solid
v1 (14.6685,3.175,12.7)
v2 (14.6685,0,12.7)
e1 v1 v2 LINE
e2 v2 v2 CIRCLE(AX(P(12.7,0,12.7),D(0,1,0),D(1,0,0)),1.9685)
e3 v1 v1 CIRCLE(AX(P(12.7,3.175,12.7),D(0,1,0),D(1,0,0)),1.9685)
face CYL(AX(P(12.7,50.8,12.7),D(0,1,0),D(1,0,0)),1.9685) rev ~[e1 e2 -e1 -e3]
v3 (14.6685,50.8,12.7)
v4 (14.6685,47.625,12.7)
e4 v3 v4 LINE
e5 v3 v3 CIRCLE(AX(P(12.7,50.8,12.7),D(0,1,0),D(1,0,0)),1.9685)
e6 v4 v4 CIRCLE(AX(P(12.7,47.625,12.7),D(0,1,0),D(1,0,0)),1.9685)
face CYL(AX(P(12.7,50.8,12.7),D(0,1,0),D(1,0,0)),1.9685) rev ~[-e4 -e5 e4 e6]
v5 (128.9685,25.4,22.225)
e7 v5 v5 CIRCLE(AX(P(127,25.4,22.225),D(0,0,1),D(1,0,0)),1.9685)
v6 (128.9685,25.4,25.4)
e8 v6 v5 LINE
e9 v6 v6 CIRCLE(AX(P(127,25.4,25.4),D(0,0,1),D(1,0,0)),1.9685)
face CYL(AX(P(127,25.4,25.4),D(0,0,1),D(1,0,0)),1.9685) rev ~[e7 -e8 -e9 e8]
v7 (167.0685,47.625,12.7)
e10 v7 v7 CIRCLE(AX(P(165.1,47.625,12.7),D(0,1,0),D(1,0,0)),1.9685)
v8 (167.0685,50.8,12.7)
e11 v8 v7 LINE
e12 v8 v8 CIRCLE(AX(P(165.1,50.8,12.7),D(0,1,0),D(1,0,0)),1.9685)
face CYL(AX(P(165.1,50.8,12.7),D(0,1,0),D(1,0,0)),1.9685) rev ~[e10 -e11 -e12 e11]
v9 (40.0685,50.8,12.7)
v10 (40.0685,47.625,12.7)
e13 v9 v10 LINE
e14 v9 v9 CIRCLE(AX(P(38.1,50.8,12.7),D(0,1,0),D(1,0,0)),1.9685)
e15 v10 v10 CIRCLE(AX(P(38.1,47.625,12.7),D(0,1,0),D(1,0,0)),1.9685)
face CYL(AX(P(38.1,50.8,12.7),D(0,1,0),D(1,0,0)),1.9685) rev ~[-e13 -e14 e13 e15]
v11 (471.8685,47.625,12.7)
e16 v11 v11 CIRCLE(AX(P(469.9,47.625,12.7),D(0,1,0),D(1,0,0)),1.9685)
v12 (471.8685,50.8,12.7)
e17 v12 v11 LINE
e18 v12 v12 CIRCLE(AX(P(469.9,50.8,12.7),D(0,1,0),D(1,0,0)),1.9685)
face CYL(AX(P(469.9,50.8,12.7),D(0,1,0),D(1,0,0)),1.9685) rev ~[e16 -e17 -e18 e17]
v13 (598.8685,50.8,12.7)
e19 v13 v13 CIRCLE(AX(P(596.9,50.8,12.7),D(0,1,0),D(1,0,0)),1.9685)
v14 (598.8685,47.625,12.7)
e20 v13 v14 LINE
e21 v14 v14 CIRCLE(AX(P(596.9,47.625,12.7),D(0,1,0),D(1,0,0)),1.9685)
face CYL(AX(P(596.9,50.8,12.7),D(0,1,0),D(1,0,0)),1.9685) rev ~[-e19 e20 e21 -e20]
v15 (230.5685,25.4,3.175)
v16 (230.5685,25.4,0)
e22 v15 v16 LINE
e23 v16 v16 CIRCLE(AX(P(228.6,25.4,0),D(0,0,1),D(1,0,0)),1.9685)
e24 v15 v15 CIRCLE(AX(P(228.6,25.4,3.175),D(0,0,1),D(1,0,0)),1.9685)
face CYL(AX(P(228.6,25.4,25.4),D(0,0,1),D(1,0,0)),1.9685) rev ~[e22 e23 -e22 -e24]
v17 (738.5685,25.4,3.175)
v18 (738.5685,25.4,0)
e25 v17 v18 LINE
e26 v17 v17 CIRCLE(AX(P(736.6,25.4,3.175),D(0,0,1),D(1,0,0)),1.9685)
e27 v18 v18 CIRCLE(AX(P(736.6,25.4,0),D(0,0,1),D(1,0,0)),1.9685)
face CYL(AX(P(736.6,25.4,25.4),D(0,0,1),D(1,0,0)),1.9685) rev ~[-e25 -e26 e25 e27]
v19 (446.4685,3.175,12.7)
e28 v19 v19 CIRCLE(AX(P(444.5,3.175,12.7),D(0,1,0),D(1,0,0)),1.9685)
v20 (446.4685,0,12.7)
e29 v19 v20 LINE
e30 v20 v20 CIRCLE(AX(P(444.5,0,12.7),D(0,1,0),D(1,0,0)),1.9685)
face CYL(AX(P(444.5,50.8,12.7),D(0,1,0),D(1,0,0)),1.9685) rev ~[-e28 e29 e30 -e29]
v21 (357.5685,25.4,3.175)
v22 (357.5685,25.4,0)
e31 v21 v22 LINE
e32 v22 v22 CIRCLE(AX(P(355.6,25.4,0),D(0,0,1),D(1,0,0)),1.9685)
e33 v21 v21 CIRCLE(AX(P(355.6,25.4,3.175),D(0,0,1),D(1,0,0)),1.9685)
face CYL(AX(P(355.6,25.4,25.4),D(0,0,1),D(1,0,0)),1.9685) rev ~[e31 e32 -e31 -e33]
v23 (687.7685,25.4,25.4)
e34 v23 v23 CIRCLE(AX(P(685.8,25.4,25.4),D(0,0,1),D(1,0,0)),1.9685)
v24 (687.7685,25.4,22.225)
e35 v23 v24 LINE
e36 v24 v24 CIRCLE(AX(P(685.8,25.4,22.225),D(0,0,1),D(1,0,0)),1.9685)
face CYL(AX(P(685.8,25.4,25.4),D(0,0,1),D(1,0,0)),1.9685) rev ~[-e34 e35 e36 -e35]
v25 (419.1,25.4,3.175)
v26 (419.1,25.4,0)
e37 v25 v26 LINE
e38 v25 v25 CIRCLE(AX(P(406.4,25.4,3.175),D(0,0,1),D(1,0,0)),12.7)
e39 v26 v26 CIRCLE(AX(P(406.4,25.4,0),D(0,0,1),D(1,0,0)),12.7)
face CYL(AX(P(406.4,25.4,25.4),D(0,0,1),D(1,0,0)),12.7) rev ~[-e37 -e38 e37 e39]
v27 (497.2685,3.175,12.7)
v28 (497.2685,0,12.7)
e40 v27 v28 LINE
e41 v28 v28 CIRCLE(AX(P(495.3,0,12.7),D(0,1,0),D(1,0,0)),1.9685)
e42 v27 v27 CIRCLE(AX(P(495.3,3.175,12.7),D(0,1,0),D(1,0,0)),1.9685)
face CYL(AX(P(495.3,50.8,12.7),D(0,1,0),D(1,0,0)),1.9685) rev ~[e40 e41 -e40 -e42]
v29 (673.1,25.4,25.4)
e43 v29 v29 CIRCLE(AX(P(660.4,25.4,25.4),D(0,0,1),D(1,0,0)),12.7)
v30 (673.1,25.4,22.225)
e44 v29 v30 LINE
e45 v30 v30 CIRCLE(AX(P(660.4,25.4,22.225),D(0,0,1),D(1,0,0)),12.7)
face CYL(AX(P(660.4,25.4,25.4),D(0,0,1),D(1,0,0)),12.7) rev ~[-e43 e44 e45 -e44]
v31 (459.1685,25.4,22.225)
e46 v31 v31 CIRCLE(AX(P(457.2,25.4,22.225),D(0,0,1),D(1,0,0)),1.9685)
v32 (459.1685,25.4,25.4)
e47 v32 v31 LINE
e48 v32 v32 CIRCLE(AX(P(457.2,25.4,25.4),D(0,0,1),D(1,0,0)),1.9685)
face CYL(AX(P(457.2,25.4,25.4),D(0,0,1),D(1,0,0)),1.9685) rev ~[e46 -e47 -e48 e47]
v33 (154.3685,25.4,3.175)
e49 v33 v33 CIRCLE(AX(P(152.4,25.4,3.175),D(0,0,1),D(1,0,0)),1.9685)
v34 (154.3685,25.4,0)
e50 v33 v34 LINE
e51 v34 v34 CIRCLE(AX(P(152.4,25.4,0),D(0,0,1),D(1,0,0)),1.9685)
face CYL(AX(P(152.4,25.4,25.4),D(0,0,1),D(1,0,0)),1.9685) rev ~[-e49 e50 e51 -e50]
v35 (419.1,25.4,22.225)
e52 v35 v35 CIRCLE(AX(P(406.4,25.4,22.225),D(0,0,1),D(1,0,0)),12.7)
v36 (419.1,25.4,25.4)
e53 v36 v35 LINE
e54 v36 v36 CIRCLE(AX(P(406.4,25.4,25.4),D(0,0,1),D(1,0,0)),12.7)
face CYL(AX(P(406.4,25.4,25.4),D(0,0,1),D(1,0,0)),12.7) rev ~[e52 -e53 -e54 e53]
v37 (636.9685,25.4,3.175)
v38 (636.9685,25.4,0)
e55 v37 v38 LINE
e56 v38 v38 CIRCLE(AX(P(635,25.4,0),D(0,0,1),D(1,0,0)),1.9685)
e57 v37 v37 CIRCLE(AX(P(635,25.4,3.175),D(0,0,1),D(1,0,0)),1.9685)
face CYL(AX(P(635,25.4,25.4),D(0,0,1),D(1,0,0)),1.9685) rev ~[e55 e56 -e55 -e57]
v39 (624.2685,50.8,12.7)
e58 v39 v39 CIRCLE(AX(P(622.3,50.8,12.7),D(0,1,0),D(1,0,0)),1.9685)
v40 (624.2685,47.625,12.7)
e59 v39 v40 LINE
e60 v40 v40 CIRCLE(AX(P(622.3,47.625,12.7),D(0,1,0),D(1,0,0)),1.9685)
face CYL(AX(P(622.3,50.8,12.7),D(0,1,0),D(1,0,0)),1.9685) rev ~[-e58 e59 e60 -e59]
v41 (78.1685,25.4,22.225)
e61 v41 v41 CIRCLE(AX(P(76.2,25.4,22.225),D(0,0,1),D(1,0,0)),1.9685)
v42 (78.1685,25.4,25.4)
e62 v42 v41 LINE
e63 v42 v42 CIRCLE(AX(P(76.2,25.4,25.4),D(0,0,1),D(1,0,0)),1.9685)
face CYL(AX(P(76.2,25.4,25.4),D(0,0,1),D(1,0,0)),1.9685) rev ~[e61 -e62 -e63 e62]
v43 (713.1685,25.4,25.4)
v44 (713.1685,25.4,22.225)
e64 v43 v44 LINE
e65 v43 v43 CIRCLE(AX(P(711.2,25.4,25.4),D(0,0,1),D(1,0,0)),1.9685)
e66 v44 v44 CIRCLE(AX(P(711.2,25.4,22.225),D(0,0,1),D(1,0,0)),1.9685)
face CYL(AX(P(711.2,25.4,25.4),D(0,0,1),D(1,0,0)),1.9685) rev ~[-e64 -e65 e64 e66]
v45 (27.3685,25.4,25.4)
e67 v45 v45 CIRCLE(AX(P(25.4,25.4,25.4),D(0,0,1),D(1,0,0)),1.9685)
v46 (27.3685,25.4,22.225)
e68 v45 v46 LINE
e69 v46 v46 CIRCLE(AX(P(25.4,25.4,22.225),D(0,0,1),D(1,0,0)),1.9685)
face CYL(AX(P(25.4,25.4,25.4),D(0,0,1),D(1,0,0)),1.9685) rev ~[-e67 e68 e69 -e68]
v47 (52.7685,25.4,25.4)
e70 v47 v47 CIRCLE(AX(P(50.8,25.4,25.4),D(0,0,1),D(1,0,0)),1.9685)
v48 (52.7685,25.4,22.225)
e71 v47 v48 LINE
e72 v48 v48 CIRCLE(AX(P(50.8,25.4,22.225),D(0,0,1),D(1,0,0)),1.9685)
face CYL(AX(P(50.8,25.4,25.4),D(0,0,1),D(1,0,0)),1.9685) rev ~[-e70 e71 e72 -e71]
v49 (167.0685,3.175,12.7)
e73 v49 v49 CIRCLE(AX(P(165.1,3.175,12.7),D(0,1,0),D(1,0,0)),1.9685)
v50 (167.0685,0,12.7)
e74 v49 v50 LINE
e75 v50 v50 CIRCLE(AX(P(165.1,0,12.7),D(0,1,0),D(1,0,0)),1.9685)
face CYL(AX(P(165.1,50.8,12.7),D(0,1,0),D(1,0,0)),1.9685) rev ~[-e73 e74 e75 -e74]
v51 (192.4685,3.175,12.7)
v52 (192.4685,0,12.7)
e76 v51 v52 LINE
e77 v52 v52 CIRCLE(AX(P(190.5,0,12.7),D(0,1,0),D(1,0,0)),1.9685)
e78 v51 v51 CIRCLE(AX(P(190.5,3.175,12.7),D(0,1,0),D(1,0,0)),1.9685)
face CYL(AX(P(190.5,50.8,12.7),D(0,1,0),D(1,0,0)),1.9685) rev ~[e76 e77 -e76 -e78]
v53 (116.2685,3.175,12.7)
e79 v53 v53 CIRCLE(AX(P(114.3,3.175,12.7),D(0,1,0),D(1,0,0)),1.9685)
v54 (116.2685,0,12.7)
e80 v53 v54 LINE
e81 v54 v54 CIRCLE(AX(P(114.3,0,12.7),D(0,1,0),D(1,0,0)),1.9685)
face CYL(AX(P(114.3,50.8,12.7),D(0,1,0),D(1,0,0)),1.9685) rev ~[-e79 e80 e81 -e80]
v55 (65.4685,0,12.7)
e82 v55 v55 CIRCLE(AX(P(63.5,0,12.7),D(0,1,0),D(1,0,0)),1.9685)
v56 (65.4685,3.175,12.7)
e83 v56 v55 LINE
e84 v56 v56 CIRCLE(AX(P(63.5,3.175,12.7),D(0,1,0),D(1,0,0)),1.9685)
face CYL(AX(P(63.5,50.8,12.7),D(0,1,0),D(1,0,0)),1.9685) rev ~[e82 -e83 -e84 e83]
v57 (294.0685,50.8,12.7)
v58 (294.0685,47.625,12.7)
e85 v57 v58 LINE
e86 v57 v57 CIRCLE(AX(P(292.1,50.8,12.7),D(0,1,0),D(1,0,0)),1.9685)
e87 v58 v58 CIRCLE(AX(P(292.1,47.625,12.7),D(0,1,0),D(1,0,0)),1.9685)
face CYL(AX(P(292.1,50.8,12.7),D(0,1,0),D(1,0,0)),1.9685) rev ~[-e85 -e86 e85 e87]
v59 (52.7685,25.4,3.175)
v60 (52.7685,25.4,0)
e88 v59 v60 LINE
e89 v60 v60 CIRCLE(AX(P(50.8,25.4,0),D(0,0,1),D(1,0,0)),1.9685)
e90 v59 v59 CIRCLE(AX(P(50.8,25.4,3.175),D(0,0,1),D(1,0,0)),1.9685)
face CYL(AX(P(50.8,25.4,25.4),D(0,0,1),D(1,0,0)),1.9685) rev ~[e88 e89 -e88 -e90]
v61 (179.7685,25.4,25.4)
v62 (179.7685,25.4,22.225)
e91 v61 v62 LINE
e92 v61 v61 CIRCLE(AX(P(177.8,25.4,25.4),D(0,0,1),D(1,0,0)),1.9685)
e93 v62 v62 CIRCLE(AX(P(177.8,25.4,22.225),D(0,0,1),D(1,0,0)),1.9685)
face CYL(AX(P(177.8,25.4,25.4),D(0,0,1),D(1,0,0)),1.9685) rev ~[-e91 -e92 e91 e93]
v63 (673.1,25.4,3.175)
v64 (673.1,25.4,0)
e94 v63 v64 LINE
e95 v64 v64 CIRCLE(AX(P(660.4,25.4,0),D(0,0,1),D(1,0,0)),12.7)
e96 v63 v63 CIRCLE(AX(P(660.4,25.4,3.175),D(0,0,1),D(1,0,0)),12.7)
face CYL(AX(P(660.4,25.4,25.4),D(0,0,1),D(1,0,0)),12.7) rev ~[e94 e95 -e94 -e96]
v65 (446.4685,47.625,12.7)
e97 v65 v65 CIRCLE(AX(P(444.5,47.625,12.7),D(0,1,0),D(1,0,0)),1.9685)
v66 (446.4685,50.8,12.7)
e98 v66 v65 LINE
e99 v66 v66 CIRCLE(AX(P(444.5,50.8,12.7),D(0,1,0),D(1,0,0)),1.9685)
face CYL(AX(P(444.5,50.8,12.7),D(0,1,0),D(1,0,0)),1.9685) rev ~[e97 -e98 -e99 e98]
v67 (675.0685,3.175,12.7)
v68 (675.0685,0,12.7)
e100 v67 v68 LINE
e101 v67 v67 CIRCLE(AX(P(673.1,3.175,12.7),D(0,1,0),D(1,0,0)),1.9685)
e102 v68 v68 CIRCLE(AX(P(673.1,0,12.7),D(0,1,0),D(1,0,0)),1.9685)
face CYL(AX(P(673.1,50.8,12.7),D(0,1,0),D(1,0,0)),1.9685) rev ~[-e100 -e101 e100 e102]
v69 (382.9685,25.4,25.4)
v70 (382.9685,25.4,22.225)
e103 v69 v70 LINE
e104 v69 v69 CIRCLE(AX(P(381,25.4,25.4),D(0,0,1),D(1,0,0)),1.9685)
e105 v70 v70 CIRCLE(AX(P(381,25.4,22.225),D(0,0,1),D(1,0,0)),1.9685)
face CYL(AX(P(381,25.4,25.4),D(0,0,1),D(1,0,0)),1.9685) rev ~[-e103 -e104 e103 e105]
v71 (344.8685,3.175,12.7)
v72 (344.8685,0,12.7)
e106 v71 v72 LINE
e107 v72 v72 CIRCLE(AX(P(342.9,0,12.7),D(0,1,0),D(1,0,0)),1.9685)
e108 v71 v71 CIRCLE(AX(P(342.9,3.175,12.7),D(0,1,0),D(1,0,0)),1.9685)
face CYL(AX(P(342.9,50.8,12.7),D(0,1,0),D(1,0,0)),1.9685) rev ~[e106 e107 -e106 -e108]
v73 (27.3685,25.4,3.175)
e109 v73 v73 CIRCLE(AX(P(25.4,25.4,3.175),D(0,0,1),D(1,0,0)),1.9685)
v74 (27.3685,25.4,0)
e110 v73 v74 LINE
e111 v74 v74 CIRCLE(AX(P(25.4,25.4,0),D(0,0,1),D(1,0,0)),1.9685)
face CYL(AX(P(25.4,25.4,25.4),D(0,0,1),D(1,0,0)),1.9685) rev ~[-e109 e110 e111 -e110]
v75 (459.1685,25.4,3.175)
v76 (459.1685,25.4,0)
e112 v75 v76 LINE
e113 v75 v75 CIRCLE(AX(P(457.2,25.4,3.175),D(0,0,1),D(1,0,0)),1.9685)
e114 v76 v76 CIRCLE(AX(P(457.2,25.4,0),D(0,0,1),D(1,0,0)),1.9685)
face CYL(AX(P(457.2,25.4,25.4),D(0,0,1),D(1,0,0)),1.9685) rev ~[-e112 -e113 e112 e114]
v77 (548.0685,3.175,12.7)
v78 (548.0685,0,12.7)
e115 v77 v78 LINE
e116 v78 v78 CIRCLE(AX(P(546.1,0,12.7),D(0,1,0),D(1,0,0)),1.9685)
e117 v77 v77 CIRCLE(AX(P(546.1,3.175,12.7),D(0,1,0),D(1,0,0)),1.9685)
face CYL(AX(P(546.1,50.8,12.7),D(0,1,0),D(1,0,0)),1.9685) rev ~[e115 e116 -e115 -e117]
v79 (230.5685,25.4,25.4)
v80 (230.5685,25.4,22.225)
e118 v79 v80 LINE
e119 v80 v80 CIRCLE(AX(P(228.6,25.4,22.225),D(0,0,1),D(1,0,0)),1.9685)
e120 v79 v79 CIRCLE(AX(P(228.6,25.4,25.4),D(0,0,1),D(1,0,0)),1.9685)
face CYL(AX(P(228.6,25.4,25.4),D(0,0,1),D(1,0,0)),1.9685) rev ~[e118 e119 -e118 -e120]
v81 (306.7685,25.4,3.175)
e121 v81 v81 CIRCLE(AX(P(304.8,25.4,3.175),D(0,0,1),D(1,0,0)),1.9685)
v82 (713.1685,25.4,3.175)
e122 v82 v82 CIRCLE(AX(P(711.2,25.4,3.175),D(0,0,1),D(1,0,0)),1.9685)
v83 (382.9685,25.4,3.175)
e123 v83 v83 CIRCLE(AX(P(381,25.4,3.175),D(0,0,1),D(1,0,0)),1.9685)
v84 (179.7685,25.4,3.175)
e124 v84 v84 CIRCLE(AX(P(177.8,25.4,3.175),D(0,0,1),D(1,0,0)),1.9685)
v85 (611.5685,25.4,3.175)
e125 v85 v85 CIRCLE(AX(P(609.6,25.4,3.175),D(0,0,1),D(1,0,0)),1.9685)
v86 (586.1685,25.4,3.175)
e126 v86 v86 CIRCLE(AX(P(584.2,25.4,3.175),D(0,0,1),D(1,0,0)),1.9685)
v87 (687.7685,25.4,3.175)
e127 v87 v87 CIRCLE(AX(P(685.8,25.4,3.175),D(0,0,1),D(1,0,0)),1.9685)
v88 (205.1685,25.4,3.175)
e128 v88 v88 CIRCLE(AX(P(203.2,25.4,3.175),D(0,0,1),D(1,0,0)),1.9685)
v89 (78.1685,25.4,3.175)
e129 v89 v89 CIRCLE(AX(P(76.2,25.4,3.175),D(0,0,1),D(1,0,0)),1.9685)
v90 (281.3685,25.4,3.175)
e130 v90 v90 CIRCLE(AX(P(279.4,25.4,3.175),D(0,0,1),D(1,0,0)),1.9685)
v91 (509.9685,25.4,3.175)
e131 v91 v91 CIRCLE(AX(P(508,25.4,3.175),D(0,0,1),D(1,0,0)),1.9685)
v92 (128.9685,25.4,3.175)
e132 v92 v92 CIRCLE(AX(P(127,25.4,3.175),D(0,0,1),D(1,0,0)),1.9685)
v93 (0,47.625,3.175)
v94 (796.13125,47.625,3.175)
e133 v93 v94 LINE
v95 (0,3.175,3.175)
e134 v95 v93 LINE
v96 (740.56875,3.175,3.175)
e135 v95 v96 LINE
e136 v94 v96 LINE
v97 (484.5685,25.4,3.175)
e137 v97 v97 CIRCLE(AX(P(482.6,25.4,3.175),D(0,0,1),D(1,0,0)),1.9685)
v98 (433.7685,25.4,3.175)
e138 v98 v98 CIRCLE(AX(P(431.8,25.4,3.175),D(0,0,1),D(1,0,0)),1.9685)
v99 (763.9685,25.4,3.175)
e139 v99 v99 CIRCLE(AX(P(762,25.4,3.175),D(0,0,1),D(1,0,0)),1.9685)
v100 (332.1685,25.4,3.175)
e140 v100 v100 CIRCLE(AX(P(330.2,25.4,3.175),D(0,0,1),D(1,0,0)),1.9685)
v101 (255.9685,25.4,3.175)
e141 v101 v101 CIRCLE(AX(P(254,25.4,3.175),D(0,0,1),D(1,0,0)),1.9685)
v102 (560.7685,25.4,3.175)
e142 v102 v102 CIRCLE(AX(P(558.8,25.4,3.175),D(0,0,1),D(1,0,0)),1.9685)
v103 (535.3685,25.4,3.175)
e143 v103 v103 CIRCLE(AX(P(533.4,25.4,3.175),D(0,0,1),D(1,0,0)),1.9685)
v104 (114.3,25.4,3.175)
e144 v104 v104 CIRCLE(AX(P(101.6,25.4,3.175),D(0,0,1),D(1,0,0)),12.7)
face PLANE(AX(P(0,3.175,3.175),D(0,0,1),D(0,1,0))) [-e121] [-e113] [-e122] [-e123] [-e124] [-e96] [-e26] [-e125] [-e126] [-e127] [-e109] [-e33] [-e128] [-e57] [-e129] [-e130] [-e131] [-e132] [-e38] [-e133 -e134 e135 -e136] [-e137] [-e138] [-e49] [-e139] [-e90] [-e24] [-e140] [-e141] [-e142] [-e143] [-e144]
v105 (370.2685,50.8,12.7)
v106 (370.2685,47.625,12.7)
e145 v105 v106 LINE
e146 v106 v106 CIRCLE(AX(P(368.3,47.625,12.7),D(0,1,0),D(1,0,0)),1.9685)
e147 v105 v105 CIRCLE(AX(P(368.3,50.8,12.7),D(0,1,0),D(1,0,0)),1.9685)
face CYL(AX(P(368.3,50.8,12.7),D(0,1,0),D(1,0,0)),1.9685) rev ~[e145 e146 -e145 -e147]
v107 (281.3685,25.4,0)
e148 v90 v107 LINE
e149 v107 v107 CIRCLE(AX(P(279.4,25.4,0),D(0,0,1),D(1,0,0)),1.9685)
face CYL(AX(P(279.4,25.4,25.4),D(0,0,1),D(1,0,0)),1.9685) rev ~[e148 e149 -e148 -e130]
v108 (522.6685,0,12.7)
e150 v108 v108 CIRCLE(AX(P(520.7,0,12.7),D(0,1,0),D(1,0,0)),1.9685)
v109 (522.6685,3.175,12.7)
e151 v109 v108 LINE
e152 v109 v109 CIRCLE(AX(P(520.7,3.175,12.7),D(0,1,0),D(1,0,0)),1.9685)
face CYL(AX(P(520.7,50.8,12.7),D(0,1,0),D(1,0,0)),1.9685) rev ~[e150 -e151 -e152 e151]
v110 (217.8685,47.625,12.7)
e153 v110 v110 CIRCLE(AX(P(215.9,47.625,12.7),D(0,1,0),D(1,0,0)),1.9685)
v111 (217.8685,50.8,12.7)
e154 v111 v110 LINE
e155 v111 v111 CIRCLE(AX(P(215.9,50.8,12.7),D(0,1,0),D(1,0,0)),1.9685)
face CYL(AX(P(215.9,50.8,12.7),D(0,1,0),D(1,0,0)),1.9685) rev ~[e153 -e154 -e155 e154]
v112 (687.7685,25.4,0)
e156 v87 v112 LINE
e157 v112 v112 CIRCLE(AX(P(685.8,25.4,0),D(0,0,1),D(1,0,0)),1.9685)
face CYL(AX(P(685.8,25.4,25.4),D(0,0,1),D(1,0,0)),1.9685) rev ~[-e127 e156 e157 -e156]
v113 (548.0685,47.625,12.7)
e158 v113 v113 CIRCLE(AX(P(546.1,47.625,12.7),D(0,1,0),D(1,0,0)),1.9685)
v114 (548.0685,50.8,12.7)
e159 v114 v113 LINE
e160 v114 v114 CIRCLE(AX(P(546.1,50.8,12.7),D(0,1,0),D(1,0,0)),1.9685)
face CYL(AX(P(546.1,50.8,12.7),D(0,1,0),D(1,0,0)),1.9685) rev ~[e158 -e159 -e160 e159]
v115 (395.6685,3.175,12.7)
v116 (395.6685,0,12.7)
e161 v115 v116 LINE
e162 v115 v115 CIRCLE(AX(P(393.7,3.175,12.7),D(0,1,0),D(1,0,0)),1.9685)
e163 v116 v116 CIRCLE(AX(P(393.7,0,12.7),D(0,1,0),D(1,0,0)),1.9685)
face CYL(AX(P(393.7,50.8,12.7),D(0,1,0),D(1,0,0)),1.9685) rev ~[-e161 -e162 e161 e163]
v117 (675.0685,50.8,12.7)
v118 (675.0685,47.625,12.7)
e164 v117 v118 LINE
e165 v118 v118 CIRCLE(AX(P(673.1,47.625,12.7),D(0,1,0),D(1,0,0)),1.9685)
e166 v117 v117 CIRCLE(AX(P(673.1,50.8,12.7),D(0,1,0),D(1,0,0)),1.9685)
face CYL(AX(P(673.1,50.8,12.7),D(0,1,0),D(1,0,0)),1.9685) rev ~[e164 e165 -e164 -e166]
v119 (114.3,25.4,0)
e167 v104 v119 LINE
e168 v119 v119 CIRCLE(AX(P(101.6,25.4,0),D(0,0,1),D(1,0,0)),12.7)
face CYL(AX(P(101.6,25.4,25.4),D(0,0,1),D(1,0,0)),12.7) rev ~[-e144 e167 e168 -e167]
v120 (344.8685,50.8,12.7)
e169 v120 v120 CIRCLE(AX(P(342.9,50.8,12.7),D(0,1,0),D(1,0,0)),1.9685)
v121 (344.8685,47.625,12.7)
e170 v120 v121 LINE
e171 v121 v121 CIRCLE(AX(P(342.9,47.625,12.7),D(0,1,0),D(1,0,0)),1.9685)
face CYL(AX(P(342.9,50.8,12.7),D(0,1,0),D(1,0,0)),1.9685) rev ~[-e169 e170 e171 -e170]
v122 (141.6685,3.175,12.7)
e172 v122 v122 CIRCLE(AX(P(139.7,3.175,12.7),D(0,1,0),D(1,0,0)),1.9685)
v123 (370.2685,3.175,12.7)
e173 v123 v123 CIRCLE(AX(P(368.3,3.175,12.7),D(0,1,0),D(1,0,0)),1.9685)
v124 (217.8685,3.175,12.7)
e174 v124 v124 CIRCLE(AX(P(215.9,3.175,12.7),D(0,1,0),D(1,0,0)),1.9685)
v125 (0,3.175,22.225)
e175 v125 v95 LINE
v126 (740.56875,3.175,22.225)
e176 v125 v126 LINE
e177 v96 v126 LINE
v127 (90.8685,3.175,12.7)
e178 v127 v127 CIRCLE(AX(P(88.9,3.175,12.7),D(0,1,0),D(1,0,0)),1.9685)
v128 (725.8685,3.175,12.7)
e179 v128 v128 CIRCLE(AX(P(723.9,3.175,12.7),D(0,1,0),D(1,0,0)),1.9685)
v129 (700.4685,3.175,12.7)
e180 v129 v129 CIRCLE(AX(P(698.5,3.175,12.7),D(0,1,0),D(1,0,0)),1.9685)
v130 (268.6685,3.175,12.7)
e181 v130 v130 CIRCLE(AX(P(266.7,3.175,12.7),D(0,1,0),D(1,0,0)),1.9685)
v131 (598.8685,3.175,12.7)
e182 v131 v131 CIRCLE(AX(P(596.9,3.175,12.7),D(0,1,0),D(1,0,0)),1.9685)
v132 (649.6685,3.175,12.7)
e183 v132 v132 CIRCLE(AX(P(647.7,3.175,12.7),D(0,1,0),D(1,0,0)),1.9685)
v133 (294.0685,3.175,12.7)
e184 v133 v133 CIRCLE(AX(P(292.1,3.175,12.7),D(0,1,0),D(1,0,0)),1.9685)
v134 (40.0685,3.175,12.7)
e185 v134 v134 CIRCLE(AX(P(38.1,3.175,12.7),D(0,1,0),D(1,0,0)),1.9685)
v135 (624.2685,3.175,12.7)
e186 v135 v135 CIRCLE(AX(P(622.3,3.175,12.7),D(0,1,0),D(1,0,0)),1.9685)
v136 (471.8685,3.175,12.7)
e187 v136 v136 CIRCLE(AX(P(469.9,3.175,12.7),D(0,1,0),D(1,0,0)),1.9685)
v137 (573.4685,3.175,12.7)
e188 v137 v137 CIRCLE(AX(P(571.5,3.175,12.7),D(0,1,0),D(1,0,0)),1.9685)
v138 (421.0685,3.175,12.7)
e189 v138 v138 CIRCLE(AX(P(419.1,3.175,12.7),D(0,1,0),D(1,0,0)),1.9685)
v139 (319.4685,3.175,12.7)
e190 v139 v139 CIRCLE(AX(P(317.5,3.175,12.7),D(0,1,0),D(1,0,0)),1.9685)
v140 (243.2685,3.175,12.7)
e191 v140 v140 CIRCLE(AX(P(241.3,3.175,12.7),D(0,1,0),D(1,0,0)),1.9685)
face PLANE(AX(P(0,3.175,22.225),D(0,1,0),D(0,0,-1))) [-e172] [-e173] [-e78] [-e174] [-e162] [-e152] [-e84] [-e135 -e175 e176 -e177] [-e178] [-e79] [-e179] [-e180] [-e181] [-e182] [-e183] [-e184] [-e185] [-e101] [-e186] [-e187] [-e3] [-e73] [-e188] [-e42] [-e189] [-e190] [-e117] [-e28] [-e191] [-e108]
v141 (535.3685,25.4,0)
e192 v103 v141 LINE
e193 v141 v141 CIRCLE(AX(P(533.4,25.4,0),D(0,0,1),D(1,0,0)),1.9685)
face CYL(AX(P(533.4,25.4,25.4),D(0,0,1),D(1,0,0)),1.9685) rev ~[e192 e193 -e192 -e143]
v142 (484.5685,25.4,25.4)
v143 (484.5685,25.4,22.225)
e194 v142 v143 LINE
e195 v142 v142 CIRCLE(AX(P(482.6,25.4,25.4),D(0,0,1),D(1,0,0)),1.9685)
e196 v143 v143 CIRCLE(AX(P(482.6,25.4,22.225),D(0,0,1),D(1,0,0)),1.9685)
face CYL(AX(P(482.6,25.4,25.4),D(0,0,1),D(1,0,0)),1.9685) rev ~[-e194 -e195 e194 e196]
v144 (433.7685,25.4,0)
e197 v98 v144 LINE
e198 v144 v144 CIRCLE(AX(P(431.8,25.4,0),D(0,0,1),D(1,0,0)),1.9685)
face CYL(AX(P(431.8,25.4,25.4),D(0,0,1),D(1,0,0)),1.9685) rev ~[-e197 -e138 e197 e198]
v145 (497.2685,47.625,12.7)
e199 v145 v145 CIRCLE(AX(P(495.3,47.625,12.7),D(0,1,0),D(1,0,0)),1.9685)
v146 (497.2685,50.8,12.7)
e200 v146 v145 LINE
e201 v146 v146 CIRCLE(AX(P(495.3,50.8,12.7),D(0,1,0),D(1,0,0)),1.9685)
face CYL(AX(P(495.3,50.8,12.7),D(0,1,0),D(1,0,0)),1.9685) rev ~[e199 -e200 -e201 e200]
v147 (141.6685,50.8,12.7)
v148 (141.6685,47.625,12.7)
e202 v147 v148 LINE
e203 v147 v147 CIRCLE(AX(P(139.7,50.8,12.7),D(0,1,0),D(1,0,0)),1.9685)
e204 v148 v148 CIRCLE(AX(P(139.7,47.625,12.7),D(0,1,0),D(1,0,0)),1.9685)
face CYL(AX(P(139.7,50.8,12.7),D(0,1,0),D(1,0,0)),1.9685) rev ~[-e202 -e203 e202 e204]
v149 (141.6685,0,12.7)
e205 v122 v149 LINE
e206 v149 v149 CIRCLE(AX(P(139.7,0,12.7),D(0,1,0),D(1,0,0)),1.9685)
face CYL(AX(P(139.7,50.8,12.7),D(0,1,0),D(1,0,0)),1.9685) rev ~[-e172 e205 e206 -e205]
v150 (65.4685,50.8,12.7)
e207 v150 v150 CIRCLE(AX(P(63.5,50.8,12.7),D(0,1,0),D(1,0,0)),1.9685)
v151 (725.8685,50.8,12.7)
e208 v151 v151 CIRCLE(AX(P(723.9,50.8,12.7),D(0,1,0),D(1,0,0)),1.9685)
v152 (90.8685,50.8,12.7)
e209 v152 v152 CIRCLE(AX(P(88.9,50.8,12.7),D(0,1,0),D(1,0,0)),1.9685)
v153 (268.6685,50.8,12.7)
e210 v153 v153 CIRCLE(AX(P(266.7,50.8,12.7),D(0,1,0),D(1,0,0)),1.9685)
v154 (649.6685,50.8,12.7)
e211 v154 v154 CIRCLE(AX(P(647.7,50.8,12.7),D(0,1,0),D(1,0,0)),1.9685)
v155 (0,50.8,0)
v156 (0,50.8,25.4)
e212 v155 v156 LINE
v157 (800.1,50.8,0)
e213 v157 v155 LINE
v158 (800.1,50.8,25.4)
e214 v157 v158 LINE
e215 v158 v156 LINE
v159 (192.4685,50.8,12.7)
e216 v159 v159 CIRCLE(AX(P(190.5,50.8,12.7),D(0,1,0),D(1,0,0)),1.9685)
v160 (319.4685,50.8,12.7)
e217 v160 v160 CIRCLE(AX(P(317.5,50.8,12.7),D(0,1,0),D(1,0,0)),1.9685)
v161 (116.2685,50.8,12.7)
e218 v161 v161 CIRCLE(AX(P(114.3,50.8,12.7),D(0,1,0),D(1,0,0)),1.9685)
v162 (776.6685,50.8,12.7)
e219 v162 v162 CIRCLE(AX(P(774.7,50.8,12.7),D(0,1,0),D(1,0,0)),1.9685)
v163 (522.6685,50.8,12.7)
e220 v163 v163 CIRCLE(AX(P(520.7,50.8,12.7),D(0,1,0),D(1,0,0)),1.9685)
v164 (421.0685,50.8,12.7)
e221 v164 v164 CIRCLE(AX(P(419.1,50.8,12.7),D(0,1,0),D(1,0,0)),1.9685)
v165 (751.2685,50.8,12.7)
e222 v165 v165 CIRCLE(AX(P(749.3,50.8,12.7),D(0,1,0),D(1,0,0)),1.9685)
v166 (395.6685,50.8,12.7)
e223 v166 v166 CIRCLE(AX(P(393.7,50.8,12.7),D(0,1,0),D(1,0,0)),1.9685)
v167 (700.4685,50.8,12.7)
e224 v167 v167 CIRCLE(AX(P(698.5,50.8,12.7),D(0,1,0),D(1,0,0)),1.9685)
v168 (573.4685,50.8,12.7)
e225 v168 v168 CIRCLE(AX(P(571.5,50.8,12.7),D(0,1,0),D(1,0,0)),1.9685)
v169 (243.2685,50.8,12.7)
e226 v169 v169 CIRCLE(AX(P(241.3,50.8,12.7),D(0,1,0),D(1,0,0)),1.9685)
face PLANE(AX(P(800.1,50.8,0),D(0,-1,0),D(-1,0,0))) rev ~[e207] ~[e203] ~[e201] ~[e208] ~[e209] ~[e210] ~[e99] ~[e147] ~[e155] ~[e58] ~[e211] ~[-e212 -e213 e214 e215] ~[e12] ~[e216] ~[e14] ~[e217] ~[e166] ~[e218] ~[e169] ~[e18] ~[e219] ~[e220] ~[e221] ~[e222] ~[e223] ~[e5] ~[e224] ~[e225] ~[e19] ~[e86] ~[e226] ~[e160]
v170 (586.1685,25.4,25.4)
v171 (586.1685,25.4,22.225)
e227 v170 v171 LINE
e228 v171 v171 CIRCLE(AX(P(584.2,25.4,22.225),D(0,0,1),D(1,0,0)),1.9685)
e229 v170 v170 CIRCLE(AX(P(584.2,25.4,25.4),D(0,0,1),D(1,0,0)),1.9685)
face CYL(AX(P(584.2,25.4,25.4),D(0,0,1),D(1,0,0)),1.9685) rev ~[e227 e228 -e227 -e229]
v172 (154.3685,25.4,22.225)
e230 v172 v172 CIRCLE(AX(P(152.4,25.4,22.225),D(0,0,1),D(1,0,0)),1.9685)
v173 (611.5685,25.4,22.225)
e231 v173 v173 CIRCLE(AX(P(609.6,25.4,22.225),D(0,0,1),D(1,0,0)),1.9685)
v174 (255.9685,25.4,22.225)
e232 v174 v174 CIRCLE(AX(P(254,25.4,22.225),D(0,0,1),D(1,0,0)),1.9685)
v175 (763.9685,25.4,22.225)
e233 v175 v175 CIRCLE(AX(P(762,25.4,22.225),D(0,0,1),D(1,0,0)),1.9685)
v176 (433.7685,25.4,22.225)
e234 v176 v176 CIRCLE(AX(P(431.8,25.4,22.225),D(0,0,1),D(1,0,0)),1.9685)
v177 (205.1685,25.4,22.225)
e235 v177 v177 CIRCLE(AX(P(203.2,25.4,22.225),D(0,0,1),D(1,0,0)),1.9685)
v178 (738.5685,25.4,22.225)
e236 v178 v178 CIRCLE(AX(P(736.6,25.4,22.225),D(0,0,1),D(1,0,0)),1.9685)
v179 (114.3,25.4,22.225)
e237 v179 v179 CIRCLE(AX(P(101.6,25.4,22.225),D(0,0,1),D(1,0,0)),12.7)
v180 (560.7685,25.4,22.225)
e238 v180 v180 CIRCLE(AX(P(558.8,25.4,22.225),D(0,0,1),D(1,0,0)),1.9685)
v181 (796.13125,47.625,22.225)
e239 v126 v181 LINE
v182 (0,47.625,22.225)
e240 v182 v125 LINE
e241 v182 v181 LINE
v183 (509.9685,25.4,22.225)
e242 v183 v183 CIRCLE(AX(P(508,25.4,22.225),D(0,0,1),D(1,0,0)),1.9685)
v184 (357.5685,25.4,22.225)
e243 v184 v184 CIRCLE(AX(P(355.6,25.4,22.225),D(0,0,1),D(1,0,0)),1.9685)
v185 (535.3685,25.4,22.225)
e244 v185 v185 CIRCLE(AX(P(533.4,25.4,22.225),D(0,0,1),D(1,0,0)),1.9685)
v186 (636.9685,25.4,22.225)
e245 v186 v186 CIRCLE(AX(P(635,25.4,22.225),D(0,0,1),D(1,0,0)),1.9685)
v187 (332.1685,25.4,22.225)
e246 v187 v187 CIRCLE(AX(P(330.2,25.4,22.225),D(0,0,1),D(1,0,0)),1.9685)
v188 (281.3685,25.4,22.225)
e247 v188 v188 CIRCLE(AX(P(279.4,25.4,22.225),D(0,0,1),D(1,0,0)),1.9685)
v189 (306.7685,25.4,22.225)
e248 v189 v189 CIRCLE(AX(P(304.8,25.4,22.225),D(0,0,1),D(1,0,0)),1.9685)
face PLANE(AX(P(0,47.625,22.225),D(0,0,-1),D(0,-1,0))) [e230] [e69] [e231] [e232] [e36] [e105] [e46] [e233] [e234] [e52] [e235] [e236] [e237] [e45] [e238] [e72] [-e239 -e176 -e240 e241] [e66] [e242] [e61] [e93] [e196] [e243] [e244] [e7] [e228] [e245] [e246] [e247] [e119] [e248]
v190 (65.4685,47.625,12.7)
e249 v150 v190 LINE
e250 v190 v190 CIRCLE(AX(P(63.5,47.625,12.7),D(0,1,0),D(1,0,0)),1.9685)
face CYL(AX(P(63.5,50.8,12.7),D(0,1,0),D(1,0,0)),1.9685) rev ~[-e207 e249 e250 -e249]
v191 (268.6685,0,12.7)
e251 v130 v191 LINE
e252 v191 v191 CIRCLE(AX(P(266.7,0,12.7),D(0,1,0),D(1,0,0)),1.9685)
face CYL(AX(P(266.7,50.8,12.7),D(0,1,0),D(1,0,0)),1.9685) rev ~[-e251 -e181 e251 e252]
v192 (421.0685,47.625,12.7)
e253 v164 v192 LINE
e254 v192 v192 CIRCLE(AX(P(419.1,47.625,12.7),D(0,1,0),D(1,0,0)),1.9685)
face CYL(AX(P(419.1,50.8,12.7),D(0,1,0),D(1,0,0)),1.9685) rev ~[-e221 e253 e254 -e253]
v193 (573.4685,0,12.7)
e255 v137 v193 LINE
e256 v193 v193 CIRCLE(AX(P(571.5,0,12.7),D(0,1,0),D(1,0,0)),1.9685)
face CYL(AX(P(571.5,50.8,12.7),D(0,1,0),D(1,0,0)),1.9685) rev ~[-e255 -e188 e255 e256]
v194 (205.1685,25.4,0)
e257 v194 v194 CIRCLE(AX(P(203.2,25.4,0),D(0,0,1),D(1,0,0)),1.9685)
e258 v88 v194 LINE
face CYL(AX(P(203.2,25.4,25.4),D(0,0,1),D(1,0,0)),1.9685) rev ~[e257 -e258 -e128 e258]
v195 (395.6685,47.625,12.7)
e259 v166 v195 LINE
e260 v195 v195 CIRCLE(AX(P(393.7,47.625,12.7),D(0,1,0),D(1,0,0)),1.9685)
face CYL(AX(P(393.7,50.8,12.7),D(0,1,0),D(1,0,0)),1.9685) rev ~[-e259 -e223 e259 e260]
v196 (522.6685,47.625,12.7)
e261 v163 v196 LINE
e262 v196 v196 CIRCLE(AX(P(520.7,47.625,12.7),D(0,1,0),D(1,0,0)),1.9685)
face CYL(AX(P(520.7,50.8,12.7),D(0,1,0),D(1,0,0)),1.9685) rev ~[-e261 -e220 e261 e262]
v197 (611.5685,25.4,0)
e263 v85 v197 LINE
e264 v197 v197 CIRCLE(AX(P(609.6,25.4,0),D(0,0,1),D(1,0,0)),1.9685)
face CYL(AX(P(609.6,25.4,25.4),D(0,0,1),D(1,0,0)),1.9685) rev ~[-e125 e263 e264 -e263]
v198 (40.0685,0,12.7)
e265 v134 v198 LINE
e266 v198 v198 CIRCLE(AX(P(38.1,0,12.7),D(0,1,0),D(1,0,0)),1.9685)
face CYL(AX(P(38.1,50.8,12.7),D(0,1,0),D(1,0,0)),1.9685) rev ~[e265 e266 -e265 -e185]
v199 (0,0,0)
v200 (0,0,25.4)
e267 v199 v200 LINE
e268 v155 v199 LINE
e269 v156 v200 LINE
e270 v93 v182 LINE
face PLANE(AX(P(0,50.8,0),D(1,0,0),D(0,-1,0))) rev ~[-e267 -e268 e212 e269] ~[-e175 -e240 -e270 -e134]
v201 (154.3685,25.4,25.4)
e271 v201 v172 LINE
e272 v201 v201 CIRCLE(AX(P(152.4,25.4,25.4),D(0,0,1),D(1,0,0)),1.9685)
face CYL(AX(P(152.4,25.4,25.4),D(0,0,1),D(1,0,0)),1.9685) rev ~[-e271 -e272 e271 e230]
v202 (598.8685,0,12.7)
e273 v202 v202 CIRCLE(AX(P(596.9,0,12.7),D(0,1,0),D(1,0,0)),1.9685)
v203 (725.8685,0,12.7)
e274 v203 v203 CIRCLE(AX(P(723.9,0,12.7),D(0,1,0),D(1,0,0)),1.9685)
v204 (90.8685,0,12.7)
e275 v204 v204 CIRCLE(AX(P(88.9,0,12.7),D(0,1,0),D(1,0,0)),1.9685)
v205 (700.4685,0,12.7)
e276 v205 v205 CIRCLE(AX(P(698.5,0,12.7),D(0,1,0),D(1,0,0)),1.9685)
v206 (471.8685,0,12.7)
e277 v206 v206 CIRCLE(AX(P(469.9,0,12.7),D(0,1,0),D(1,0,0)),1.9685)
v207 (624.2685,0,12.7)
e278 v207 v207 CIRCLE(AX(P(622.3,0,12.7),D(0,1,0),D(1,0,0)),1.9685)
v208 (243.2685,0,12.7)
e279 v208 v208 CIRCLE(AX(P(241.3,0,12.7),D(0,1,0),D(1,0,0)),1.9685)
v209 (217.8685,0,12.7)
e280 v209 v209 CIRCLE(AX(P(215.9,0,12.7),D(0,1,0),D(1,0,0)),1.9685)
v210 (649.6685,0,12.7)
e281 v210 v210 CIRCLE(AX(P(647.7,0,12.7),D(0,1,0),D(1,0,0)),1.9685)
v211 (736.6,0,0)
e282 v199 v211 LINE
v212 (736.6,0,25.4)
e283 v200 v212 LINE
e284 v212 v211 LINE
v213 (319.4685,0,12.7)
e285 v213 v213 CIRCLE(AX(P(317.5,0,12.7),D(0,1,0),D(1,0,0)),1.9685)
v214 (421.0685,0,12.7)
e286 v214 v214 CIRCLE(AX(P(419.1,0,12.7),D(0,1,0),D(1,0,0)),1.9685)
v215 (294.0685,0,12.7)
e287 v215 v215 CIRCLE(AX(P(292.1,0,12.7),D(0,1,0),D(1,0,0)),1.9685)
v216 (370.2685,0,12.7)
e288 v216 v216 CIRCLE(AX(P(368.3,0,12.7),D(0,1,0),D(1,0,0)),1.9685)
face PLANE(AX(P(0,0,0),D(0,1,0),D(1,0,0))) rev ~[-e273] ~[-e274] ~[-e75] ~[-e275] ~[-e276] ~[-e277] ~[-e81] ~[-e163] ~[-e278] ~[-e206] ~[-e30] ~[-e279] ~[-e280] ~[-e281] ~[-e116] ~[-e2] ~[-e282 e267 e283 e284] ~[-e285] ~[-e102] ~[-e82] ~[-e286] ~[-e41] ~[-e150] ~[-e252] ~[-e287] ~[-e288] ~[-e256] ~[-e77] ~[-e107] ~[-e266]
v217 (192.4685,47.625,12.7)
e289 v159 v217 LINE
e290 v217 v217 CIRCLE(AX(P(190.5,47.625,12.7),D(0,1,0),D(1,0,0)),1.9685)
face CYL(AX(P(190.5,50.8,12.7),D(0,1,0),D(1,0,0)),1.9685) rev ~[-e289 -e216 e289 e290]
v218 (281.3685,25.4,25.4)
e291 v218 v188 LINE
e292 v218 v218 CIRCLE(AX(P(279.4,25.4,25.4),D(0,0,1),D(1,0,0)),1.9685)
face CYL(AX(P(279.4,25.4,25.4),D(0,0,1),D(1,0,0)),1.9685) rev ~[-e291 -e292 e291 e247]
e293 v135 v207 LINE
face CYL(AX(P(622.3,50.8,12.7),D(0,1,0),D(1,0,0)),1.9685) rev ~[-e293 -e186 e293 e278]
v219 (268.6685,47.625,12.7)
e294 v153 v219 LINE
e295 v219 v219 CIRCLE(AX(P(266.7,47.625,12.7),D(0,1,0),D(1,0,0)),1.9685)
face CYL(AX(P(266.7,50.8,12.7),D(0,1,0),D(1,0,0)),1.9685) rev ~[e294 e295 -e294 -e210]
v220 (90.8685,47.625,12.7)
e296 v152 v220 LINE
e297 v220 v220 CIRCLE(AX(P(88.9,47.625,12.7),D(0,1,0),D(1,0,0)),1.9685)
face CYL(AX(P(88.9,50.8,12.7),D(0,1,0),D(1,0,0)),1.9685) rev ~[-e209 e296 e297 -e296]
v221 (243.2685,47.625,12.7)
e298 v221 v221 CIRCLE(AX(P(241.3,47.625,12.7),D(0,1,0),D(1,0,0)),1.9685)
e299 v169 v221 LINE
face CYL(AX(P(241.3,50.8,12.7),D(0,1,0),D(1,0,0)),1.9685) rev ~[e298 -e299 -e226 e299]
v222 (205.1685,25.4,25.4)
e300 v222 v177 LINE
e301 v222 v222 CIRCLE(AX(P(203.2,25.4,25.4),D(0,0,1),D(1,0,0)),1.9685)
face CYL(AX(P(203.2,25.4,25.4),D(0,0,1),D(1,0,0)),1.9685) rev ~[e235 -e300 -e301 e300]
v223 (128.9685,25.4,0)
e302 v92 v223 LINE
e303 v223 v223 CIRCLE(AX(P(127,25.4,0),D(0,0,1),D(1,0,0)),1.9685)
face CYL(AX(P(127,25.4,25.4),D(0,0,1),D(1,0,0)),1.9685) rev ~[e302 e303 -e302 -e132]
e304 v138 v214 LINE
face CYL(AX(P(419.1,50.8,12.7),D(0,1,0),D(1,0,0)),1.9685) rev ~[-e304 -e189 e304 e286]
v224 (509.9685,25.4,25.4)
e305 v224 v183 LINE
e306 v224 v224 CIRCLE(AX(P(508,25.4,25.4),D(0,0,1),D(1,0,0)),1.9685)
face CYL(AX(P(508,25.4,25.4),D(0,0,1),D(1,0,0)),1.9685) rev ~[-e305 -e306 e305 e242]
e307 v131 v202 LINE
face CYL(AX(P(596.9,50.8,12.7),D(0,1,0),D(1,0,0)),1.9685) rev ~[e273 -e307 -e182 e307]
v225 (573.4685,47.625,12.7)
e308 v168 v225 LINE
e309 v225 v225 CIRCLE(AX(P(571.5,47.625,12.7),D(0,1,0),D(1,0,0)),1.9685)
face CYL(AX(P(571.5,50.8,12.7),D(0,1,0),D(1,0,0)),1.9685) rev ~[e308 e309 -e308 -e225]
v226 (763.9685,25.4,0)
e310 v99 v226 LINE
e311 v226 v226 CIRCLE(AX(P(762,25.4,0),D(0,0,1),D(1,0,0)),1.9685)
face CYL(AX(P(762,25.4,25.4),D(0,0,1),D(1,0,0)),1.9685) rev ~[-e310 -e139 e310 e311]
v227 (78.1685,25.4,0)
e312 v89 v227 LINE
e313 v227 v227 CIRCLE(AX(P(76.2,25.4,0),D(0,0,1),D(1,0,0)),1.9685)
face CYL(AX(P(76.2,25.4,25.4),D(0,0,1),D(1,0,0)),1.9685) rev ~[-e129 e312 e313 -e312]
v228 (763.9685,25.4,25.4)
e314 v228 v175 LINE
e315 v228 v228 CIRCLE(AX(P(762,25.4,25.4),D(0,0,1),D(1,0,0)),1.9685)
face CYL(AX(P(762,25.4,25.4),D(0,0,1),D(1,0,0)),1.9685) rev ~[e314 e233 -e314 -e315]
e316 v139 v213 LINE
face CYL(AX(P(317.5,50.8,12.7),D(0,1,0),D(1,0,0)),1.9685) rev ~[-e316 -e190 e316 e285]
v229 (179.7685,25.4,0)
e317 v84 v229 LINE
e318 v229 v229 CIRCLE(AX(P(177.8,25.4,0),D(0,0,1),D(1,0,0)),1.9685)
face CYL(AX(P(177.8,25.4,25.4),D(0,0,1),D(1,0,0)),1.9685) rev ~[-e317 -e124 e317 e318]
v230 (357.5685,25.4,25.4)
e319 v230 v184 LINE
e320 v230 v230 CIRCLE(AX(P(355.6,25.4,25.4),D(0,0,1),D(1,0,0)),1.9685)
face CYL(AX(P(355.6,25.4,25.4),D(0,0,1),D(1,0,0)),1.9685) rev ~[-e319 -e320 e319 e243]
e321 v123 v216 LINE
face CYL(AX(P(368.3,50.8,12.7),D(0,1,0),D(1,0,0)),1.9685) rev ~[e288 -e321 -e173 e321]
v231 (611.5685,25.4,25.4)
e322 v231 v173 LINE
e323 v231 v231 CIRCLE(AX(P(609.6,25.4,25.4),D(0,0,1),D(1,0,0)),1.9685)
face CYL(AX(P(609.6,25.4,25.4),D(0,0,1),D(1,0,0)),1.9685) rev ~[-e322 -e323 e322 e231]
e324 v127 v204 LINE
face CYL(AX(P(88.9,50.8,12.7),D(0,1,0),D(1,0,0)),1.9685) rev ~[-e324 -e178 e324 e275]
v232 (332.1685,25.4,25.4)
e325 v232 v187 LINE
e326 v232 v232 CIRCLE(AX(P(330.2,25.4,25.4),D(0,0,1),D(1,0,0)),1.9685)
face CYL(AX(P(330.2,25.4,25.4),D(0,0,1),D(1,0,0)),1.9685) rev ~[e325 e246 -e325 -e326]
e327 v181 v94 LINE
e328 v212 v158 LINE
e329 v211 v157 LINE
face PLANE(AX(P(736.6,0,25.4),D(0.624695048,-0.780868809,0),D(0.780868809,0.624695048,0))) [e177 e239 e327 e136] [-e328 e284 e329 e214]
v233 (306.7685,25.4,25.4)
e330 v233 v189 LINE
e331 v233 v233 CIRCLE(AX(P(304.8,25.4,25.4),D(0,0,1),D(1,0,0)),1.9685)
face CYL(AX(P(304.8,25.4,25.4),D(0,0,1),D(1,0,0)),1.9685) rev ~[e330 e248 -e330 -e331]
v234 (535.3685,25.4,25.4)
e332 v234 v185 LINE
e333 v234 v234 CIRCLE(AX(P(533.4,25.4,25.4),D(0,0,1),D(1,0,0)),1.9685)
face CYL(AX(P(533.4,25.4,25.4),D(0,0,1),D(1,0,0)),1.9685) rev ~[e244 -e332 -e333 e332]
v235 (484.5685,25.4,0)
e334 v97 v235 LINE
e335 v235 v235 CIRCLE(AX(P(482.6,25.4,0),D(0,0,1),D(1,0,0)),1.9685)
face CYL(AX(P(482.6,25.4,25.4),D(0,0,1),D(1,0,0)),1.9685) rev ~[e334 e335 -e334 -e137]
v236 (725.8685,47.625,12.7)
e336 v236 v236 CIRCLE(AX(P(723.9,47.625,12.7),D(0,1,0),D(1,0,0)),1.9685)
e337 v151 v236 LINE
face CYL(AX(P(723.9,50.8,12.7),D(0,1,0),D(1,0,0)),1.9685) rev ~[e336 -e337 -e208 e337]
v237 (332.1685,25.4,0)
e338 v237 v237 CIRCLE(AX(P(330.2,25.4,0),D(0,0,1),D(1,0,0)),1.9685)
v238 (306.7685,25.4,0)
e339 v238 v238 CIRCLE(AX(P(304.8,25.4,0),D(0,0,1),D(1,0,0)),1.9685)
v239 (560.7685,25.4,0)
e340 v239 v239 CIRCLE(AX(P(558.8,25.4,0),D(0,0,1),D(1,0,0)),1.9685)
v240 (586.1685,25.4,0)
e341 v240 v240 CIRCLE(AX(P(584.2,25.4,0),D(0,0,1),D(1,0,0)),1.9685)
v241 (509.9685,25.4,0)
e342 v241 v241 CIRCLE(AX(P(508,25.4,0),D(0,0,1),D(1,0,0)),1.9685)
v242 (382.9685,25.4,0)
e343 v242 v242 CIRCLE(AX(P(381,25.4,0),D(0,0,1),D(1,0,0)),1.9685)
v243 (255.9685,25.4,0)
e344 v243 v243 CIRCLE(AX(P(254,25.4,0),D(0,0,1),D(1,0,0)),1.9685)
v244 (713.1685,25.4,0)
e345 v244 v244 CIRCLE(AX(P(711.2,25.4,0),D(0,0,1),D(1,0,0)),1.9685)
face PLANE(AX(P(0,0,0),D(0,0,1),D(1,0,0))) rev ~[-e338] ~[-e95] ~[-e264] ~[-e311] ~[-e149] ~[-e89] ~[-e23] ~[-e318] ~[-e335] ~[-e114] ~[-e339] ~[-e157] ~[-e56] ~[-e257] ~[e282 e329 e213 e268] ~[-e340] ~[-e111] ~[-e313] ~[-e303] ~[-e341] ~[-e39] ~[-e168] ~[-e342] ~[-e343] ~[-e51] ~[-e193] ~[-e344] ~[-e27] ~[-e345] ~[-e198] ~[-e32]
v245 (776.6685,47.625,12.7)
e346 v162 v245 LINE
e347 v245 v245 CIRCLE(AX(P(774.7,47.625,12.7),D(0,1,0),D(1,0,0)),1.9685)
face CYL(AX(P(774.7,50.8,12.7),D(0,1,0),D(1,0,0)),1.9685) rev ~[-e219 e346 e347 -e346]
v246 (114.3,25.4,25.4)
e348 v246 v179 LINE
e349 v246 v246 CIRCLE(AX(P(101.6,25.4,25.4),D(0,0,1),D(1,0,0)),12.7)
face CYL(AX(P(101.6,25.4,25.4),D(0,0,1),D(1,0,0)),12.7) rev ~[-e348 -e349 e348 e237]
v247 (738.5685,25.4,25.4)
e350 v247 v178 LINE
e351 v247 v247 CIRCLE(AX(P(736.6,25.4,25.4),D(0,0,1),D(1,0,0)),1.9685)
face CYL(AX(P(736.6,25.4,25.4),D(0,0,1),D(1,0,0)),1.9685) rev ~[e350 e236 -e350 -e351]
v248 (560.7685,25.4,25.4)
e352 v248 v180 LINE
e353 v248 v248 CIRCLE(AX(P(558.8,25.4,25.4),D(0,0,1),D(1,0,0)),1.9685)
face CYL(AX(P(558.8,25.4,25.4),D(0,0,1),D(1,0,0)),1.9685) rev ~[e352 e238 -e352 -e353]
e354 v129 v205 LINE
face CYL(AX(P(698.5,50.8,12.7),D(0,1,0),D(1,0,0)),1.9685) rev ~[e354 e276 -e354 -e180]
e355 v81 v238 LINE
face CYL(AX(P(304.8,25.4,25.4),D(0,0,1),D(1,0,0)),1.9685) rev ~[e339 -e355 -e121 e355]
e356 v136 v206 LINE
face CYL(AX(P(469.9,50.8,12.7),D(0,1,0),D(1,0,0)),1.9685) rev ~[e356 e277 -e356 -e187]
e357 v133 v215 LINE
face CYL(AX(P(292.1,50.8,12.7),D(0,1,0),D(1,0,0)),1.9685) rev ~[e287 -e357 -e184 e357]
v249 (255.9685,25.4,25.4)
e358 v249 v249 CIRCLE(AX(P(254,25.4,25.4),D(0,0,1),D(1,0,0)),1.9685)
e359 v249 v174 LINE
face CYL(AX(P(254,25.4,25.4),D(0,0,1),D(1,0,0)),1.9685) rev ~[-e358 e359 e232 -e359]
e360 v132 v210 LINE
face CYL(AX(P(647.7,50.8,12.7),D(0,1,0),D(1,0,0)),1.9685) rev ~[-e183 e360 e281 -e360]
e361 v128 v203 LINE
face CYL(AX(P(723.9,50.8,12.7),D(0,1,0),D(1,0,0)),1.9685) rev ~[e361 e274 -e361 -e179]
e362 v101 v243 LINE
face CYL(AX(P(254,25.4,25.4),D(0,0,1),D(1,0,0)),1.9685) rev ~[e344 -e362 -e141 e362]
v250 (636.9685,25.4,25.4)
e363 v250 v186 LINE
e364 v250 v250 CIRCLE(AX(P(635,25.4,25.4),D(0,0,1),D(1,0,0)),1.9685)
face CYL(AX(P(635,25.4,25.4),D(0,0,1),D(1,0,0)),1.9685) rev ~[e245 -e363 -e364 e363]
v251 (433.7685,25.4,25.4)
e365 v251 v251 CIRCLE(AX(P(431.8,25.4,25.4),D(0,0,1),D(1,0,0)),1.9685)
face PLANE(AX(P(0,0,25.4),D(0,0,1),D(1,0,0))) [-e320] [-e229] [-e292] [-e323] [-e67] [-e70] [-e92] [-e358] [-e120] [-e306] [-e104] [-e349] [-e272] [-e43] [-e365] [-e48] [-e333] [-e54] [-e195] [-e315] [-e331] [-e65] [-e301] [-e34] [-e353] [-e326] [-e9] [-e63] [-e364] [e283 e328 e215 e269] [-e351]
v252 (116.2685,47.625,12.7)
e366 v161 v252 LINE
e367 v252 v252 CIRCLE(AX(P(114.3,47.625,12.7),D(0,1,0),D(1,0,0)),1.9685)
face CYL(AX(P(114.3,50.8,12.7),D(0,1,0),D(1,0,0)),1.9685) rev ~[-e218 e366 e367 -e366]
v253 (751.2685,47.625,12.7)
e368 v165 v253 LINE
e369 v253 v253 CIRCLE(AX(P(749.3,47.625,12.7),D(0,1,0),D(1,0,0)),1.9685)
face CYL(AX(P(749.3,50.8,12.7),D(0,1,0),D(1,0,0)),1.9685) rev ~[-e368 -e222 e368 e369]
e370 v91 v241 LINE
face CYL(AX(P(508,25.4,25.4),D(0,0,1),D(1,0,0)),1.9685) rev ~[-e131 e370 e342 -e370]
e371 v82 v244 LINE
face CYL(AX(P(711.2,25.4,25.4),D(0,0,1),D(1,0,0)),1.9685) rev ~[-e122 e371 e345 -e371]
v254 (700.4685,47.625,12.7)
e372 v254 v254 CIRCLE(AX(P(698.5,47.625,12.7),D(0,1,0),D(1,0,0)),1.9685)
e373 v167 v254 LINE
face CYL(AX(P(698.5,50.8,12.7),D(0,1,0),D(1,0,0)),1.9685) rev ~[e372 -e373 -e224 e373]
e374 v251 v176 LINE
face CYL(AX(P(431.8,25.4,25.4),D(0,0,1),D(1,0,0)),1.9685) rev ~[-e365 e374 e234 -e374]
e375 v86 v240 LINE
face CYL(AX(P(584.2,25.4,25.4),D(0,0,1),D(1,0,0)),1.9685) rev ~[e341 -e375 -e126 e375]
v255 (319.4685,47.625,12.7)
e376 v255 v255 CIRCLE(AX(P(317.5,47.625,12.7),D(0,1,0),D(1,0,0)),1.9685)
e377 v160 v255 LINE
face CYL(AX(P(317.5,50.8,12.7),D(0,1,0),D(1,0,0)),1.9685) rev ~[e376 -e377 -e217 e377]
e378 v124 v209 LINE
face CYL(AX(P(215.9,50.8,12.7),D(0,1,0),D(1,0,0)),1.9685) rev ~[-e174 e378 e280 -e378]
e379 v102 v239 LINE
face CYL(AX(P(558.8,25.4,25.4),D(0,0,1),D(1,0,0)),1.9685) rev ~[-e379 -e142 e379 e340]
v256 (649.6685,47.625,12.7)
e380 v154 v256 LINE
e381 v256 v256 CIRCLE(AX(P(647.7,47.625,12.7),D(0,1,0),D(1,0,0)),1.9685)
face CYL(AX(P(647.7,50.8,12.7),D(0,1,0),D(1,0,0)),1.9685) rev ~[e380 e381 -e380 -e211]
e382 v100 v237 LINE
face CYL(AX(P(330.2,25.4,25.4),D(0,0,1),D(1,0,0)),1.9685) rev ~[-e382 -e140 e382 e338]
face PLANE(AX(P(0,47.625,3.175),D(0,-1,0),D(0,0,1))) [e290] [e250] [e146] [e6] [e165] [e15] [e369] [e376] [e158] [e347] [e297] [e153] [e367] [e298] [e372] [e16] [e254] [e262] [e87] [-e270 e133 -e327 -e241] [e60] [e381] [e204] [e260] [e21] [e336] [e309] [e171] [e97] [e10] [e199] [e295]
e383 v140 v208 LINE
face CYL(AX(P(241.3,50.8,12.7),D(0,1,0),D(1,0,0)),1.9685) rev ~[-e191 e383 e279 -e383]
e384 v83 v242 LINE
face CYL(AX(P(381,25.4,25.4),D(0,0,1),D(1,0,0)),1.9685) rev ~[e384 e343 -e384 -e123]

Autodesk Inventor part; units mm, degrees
ref_plane "YZ Plane" through (0, 0, 0) normal (1, 0, 0) x (0, 1, 0)
ref_plane "XZ Plane" through (0, 0, 0) normal (0, 1, 0) x (-1, 0, 0)
ref_plane "XY Plane" through (0, 0, 0) normal (0, 0, 1) x (1, 0, 0)
sketch "Sketch1" plane through (0, 0, 0) normal (0, 0, 1) x (1, 0, 0)
  line L0 (0, 0) -> (800.1, 0)
  line L1 (800.1, 0) -> (800.1, 50.8)
  line L2 (800.1, 50.8) -> (0, 50.8)
  line L3 (0, 50.8) -> (0, 0)
  dimension "d0" = 800.1
  dimension "d1" = 50.8
extrude "Extrusion1" add sketch "Sketch1" along normal blind 25.4
sketch "Sketch2" plane through (0, 0, 25.4) normal (0, 0, 1) x (1, 0, 0)
  line L0 (0, 0) -> (800.1, 0) projected
  line L1 (800.1, 0) -> (800.1, 50.8) projected
  line L2 (736.6, 0) -> (800.1, 50.8)
  line L3 (736.6, 0) -> (800.1, 0)
  line L4 (800.1, 0) -> (800.1, 50.8)
  dimension "d4" = 63.5
extrude "Extrusion2" cut sketch "Sketch2" against normal blind 25.4
sketch "Sketch3" plane through (0, 0, 0) normal (-1, 0, 0) x (0, 0, 1)
  line L0 (3.175, 47.625) -> (22.225, 47.625)
  line L1 (22.225, 47.625) -> (22.225, 3.175)
  line L2 (22.225, 3.175) -> (3.175, 3.175)
  line L3 (3.175, 3.175) -> (3.175, 47.625)
  line L4 (25.4, 50.8) -> (25.4, 0) projected
  line L5 (0, 50.8) -> (25.4, 50.8) projected
  line L6 (0, 0) -> (25.4, 0) projected
  line L7 (0, 50.8) -> (0, 0) projected
  dimension "d7" = 3.175
  dimension "d8" = 3.175
  dimension "d9" = 3.175
  dimension "d10" = 3.175
extrude "Extrusion3" cut sketch "Sketch3" against normal blind 2540 contours L0 L1 L2 L3
sketch "Sketch4" plane through (0, 0, 25.4) normal (0, 0, 1) x (1, 0, 0)
  circle A0 centre (25.4, 25.4) radius 1.9685
  line L0 (800.1, 50.8) -> (0, 50.8) projected
  line L1 (0, 50.8) -> (0, 0) projected
  circle A1 centre (50.8, 25.4) radius 1.9685
  circle A2 centre (76.2, 25.4) radius 1.9685
  circle A3 centre (101.6, 25.4) radius 1.9685
  circle A4 centre (127, 25.4) radius 1.9685
  circle A5 centre (152.4, 25.4) radius 1.9685
  circle A6 centre (177.8, 25.4) radius 1.9685
  circle A7 centre (203.2, 25.4) radius 1.9685
  circle A8 centre (228.6, 25.4) radius 1.9685
  circle A9 centre (254, 25.4) radius 1.9685
  circle A10 centre (279.4, 25.4) radius 1.9685
  circle A11 centre (304.8, 25.4) radius 1.9685
  circle A12 centre (330.2, 25.4) radius 1.9685
  circle A13 centre (355.6, 25.4) radius 1.9685
  circle A14 centre (381, 25.4) radius 1.9685
  circle A15 centre (406.4, 25.4) radius 1.9685
  circle A16 centre (431.8, 25.4) radius 1.9685
  circle A17 centre (457.2, 25.4) radius 1.9685
  circle A18 centre (482.6, 25.4) radius 1.9685
  circle A19 centre (508, 25.4) radius 1.9685
  circle A20 centre (533.4, 25.4) radius 1.9685
  circle A21 centre (558.8, 25.4) radius 1.9685
  circle A22 centre (584.2, 25.4) radius 1.9685
  circle A23 centre (609.6, 25.4) radius 1.9685
  circle A24 centre (635, 25.4) radius 1.9685
  circle A25 centre (660.4, 25.4) radius 1.9685
  circle A26 centre (685.8, 25.4) radius 1.9685
  circle A27 centre (711.2, 25.4) radius 1.9685
  circle A28 centre (736.6, 25.4) radius 1.9685
  circle A29 centre (762, 25.4) radius 1.9685
  dimension "d13" = 3.937
  dimension "d14" = 25.4
  dimension "d15" = 25.4
  dimension "d18" = 25.4
extrude "Extrusion4" cut sketch "Sketch4" against normal blind 254
sketch "Sketch5" plane through (0, 50.8, 25.4) normal (0, 1, 0) x (1, 0, 0)
  circle A0 centre (12.7, 12.7) radius 1.9685
  line L0 (800.1, 0) -> (0, 0) projected
  line L1 (0, 25.4) -> (0, 0) projected
  circle A1 centre (38.1, 12.7) radius 1.9685
  circle A2 centre (63.5, 12.7) radius 1.9685
  circle A3 centre (88.9, 12.7) radius 1.9685
  circle A4 centre (114.3, 12.7) radius 1.9685
  circle A5 centre (139.7, 12.7) radius 1.9685
  circle A6 centre (165.1, 12.7) radius 1.9685
  circle A7 centre (190.5, 12.7) radius 1.9685
  circle A8 centre (215.9, 12.7) radius 1.9685
  circle A9 centre (241.3, 12.7) radius 1.9685
  circle A10 centre (266.7, 12.7) radius 1.9685
  circle A11 centre (292.1, 12.7) radius 1.9685
  circle A12 centre (317.5, 12.7) radius 1.9685
  circle A13 centre (342.9, 12.7) radius 1.9685
  circle A14 centre (368.3, 12.7) radius 1.9685
  circle A15 centre (393.7, 12.7) radius 1.9685
  circle A16 centre (419.1, 12.7) radius 1.9685
  circle A17 centre (444.5, 12.7) radius 1.9685
  circle A18 centre (469.9, 12.7) radius 1.9685
  circle A19 centre (495.3, 12.7) radius 1.9685
  circle A20 centre (520.7, 12.7) radius 1.9685
  circle A21 centre (546.1, 12.7) radius 1.9685
  circle A22 centre (571.5, 12.7) radius 1.9685
  circle A23 centre (596.9, 12.7) radius 1.9685
  circle A24 centre (622.3, 12.7) radius 1.9685
  circle A25 centre (647.7, 12.7) radius 1.9685
  circle A26 centre (673.1, 12.7) radius 1.9685
  circle A27 centre (698.5, 12.7) radius 1.9685
  circle A28 centre (723.9, 12.7) radius 1.9685
  circle A29 centre (749.3, 12.7) radius 1.9685
  circle A30 centre (774.7, 12.7) radius 1.9685
  dimension "d25" = 3.937
  dimension "d26" = 12.7
  dimension "d27" = 12.7
  dimension "d30" = 25.4
extrude "Extrusion5" cut sketch "Sketch5" against normal blind 254
sketch "Sketch6" plane through (0, 0, 25.4) normal (0, 0, 1) x (1, 0, 0)
  circle A0 centre (101.6, 25.4) radius 1.9685 projected
  circle A1 centre (101.6, 25.4) radius 12.7
  circle A2 centre (406.4, 25.4) radius 12.7
  circle A3 centre (660.4, 25.4) radius 12.7
  point P0 (0, 0)
  dimension "d37" = 25.4
  dimension "d38" = 25.4
  dimension "d39" = 25.4
  dimension "d40" = 304.8
  dimension "d41" = 254
  dimension "d42" = 0
  dimension "d43" = 0
extrude "Extrusion6" cut sketch "Sketch6" against normal blind 25.4
properties part number "Kermit Frame1" material "Aluminum 6061"
